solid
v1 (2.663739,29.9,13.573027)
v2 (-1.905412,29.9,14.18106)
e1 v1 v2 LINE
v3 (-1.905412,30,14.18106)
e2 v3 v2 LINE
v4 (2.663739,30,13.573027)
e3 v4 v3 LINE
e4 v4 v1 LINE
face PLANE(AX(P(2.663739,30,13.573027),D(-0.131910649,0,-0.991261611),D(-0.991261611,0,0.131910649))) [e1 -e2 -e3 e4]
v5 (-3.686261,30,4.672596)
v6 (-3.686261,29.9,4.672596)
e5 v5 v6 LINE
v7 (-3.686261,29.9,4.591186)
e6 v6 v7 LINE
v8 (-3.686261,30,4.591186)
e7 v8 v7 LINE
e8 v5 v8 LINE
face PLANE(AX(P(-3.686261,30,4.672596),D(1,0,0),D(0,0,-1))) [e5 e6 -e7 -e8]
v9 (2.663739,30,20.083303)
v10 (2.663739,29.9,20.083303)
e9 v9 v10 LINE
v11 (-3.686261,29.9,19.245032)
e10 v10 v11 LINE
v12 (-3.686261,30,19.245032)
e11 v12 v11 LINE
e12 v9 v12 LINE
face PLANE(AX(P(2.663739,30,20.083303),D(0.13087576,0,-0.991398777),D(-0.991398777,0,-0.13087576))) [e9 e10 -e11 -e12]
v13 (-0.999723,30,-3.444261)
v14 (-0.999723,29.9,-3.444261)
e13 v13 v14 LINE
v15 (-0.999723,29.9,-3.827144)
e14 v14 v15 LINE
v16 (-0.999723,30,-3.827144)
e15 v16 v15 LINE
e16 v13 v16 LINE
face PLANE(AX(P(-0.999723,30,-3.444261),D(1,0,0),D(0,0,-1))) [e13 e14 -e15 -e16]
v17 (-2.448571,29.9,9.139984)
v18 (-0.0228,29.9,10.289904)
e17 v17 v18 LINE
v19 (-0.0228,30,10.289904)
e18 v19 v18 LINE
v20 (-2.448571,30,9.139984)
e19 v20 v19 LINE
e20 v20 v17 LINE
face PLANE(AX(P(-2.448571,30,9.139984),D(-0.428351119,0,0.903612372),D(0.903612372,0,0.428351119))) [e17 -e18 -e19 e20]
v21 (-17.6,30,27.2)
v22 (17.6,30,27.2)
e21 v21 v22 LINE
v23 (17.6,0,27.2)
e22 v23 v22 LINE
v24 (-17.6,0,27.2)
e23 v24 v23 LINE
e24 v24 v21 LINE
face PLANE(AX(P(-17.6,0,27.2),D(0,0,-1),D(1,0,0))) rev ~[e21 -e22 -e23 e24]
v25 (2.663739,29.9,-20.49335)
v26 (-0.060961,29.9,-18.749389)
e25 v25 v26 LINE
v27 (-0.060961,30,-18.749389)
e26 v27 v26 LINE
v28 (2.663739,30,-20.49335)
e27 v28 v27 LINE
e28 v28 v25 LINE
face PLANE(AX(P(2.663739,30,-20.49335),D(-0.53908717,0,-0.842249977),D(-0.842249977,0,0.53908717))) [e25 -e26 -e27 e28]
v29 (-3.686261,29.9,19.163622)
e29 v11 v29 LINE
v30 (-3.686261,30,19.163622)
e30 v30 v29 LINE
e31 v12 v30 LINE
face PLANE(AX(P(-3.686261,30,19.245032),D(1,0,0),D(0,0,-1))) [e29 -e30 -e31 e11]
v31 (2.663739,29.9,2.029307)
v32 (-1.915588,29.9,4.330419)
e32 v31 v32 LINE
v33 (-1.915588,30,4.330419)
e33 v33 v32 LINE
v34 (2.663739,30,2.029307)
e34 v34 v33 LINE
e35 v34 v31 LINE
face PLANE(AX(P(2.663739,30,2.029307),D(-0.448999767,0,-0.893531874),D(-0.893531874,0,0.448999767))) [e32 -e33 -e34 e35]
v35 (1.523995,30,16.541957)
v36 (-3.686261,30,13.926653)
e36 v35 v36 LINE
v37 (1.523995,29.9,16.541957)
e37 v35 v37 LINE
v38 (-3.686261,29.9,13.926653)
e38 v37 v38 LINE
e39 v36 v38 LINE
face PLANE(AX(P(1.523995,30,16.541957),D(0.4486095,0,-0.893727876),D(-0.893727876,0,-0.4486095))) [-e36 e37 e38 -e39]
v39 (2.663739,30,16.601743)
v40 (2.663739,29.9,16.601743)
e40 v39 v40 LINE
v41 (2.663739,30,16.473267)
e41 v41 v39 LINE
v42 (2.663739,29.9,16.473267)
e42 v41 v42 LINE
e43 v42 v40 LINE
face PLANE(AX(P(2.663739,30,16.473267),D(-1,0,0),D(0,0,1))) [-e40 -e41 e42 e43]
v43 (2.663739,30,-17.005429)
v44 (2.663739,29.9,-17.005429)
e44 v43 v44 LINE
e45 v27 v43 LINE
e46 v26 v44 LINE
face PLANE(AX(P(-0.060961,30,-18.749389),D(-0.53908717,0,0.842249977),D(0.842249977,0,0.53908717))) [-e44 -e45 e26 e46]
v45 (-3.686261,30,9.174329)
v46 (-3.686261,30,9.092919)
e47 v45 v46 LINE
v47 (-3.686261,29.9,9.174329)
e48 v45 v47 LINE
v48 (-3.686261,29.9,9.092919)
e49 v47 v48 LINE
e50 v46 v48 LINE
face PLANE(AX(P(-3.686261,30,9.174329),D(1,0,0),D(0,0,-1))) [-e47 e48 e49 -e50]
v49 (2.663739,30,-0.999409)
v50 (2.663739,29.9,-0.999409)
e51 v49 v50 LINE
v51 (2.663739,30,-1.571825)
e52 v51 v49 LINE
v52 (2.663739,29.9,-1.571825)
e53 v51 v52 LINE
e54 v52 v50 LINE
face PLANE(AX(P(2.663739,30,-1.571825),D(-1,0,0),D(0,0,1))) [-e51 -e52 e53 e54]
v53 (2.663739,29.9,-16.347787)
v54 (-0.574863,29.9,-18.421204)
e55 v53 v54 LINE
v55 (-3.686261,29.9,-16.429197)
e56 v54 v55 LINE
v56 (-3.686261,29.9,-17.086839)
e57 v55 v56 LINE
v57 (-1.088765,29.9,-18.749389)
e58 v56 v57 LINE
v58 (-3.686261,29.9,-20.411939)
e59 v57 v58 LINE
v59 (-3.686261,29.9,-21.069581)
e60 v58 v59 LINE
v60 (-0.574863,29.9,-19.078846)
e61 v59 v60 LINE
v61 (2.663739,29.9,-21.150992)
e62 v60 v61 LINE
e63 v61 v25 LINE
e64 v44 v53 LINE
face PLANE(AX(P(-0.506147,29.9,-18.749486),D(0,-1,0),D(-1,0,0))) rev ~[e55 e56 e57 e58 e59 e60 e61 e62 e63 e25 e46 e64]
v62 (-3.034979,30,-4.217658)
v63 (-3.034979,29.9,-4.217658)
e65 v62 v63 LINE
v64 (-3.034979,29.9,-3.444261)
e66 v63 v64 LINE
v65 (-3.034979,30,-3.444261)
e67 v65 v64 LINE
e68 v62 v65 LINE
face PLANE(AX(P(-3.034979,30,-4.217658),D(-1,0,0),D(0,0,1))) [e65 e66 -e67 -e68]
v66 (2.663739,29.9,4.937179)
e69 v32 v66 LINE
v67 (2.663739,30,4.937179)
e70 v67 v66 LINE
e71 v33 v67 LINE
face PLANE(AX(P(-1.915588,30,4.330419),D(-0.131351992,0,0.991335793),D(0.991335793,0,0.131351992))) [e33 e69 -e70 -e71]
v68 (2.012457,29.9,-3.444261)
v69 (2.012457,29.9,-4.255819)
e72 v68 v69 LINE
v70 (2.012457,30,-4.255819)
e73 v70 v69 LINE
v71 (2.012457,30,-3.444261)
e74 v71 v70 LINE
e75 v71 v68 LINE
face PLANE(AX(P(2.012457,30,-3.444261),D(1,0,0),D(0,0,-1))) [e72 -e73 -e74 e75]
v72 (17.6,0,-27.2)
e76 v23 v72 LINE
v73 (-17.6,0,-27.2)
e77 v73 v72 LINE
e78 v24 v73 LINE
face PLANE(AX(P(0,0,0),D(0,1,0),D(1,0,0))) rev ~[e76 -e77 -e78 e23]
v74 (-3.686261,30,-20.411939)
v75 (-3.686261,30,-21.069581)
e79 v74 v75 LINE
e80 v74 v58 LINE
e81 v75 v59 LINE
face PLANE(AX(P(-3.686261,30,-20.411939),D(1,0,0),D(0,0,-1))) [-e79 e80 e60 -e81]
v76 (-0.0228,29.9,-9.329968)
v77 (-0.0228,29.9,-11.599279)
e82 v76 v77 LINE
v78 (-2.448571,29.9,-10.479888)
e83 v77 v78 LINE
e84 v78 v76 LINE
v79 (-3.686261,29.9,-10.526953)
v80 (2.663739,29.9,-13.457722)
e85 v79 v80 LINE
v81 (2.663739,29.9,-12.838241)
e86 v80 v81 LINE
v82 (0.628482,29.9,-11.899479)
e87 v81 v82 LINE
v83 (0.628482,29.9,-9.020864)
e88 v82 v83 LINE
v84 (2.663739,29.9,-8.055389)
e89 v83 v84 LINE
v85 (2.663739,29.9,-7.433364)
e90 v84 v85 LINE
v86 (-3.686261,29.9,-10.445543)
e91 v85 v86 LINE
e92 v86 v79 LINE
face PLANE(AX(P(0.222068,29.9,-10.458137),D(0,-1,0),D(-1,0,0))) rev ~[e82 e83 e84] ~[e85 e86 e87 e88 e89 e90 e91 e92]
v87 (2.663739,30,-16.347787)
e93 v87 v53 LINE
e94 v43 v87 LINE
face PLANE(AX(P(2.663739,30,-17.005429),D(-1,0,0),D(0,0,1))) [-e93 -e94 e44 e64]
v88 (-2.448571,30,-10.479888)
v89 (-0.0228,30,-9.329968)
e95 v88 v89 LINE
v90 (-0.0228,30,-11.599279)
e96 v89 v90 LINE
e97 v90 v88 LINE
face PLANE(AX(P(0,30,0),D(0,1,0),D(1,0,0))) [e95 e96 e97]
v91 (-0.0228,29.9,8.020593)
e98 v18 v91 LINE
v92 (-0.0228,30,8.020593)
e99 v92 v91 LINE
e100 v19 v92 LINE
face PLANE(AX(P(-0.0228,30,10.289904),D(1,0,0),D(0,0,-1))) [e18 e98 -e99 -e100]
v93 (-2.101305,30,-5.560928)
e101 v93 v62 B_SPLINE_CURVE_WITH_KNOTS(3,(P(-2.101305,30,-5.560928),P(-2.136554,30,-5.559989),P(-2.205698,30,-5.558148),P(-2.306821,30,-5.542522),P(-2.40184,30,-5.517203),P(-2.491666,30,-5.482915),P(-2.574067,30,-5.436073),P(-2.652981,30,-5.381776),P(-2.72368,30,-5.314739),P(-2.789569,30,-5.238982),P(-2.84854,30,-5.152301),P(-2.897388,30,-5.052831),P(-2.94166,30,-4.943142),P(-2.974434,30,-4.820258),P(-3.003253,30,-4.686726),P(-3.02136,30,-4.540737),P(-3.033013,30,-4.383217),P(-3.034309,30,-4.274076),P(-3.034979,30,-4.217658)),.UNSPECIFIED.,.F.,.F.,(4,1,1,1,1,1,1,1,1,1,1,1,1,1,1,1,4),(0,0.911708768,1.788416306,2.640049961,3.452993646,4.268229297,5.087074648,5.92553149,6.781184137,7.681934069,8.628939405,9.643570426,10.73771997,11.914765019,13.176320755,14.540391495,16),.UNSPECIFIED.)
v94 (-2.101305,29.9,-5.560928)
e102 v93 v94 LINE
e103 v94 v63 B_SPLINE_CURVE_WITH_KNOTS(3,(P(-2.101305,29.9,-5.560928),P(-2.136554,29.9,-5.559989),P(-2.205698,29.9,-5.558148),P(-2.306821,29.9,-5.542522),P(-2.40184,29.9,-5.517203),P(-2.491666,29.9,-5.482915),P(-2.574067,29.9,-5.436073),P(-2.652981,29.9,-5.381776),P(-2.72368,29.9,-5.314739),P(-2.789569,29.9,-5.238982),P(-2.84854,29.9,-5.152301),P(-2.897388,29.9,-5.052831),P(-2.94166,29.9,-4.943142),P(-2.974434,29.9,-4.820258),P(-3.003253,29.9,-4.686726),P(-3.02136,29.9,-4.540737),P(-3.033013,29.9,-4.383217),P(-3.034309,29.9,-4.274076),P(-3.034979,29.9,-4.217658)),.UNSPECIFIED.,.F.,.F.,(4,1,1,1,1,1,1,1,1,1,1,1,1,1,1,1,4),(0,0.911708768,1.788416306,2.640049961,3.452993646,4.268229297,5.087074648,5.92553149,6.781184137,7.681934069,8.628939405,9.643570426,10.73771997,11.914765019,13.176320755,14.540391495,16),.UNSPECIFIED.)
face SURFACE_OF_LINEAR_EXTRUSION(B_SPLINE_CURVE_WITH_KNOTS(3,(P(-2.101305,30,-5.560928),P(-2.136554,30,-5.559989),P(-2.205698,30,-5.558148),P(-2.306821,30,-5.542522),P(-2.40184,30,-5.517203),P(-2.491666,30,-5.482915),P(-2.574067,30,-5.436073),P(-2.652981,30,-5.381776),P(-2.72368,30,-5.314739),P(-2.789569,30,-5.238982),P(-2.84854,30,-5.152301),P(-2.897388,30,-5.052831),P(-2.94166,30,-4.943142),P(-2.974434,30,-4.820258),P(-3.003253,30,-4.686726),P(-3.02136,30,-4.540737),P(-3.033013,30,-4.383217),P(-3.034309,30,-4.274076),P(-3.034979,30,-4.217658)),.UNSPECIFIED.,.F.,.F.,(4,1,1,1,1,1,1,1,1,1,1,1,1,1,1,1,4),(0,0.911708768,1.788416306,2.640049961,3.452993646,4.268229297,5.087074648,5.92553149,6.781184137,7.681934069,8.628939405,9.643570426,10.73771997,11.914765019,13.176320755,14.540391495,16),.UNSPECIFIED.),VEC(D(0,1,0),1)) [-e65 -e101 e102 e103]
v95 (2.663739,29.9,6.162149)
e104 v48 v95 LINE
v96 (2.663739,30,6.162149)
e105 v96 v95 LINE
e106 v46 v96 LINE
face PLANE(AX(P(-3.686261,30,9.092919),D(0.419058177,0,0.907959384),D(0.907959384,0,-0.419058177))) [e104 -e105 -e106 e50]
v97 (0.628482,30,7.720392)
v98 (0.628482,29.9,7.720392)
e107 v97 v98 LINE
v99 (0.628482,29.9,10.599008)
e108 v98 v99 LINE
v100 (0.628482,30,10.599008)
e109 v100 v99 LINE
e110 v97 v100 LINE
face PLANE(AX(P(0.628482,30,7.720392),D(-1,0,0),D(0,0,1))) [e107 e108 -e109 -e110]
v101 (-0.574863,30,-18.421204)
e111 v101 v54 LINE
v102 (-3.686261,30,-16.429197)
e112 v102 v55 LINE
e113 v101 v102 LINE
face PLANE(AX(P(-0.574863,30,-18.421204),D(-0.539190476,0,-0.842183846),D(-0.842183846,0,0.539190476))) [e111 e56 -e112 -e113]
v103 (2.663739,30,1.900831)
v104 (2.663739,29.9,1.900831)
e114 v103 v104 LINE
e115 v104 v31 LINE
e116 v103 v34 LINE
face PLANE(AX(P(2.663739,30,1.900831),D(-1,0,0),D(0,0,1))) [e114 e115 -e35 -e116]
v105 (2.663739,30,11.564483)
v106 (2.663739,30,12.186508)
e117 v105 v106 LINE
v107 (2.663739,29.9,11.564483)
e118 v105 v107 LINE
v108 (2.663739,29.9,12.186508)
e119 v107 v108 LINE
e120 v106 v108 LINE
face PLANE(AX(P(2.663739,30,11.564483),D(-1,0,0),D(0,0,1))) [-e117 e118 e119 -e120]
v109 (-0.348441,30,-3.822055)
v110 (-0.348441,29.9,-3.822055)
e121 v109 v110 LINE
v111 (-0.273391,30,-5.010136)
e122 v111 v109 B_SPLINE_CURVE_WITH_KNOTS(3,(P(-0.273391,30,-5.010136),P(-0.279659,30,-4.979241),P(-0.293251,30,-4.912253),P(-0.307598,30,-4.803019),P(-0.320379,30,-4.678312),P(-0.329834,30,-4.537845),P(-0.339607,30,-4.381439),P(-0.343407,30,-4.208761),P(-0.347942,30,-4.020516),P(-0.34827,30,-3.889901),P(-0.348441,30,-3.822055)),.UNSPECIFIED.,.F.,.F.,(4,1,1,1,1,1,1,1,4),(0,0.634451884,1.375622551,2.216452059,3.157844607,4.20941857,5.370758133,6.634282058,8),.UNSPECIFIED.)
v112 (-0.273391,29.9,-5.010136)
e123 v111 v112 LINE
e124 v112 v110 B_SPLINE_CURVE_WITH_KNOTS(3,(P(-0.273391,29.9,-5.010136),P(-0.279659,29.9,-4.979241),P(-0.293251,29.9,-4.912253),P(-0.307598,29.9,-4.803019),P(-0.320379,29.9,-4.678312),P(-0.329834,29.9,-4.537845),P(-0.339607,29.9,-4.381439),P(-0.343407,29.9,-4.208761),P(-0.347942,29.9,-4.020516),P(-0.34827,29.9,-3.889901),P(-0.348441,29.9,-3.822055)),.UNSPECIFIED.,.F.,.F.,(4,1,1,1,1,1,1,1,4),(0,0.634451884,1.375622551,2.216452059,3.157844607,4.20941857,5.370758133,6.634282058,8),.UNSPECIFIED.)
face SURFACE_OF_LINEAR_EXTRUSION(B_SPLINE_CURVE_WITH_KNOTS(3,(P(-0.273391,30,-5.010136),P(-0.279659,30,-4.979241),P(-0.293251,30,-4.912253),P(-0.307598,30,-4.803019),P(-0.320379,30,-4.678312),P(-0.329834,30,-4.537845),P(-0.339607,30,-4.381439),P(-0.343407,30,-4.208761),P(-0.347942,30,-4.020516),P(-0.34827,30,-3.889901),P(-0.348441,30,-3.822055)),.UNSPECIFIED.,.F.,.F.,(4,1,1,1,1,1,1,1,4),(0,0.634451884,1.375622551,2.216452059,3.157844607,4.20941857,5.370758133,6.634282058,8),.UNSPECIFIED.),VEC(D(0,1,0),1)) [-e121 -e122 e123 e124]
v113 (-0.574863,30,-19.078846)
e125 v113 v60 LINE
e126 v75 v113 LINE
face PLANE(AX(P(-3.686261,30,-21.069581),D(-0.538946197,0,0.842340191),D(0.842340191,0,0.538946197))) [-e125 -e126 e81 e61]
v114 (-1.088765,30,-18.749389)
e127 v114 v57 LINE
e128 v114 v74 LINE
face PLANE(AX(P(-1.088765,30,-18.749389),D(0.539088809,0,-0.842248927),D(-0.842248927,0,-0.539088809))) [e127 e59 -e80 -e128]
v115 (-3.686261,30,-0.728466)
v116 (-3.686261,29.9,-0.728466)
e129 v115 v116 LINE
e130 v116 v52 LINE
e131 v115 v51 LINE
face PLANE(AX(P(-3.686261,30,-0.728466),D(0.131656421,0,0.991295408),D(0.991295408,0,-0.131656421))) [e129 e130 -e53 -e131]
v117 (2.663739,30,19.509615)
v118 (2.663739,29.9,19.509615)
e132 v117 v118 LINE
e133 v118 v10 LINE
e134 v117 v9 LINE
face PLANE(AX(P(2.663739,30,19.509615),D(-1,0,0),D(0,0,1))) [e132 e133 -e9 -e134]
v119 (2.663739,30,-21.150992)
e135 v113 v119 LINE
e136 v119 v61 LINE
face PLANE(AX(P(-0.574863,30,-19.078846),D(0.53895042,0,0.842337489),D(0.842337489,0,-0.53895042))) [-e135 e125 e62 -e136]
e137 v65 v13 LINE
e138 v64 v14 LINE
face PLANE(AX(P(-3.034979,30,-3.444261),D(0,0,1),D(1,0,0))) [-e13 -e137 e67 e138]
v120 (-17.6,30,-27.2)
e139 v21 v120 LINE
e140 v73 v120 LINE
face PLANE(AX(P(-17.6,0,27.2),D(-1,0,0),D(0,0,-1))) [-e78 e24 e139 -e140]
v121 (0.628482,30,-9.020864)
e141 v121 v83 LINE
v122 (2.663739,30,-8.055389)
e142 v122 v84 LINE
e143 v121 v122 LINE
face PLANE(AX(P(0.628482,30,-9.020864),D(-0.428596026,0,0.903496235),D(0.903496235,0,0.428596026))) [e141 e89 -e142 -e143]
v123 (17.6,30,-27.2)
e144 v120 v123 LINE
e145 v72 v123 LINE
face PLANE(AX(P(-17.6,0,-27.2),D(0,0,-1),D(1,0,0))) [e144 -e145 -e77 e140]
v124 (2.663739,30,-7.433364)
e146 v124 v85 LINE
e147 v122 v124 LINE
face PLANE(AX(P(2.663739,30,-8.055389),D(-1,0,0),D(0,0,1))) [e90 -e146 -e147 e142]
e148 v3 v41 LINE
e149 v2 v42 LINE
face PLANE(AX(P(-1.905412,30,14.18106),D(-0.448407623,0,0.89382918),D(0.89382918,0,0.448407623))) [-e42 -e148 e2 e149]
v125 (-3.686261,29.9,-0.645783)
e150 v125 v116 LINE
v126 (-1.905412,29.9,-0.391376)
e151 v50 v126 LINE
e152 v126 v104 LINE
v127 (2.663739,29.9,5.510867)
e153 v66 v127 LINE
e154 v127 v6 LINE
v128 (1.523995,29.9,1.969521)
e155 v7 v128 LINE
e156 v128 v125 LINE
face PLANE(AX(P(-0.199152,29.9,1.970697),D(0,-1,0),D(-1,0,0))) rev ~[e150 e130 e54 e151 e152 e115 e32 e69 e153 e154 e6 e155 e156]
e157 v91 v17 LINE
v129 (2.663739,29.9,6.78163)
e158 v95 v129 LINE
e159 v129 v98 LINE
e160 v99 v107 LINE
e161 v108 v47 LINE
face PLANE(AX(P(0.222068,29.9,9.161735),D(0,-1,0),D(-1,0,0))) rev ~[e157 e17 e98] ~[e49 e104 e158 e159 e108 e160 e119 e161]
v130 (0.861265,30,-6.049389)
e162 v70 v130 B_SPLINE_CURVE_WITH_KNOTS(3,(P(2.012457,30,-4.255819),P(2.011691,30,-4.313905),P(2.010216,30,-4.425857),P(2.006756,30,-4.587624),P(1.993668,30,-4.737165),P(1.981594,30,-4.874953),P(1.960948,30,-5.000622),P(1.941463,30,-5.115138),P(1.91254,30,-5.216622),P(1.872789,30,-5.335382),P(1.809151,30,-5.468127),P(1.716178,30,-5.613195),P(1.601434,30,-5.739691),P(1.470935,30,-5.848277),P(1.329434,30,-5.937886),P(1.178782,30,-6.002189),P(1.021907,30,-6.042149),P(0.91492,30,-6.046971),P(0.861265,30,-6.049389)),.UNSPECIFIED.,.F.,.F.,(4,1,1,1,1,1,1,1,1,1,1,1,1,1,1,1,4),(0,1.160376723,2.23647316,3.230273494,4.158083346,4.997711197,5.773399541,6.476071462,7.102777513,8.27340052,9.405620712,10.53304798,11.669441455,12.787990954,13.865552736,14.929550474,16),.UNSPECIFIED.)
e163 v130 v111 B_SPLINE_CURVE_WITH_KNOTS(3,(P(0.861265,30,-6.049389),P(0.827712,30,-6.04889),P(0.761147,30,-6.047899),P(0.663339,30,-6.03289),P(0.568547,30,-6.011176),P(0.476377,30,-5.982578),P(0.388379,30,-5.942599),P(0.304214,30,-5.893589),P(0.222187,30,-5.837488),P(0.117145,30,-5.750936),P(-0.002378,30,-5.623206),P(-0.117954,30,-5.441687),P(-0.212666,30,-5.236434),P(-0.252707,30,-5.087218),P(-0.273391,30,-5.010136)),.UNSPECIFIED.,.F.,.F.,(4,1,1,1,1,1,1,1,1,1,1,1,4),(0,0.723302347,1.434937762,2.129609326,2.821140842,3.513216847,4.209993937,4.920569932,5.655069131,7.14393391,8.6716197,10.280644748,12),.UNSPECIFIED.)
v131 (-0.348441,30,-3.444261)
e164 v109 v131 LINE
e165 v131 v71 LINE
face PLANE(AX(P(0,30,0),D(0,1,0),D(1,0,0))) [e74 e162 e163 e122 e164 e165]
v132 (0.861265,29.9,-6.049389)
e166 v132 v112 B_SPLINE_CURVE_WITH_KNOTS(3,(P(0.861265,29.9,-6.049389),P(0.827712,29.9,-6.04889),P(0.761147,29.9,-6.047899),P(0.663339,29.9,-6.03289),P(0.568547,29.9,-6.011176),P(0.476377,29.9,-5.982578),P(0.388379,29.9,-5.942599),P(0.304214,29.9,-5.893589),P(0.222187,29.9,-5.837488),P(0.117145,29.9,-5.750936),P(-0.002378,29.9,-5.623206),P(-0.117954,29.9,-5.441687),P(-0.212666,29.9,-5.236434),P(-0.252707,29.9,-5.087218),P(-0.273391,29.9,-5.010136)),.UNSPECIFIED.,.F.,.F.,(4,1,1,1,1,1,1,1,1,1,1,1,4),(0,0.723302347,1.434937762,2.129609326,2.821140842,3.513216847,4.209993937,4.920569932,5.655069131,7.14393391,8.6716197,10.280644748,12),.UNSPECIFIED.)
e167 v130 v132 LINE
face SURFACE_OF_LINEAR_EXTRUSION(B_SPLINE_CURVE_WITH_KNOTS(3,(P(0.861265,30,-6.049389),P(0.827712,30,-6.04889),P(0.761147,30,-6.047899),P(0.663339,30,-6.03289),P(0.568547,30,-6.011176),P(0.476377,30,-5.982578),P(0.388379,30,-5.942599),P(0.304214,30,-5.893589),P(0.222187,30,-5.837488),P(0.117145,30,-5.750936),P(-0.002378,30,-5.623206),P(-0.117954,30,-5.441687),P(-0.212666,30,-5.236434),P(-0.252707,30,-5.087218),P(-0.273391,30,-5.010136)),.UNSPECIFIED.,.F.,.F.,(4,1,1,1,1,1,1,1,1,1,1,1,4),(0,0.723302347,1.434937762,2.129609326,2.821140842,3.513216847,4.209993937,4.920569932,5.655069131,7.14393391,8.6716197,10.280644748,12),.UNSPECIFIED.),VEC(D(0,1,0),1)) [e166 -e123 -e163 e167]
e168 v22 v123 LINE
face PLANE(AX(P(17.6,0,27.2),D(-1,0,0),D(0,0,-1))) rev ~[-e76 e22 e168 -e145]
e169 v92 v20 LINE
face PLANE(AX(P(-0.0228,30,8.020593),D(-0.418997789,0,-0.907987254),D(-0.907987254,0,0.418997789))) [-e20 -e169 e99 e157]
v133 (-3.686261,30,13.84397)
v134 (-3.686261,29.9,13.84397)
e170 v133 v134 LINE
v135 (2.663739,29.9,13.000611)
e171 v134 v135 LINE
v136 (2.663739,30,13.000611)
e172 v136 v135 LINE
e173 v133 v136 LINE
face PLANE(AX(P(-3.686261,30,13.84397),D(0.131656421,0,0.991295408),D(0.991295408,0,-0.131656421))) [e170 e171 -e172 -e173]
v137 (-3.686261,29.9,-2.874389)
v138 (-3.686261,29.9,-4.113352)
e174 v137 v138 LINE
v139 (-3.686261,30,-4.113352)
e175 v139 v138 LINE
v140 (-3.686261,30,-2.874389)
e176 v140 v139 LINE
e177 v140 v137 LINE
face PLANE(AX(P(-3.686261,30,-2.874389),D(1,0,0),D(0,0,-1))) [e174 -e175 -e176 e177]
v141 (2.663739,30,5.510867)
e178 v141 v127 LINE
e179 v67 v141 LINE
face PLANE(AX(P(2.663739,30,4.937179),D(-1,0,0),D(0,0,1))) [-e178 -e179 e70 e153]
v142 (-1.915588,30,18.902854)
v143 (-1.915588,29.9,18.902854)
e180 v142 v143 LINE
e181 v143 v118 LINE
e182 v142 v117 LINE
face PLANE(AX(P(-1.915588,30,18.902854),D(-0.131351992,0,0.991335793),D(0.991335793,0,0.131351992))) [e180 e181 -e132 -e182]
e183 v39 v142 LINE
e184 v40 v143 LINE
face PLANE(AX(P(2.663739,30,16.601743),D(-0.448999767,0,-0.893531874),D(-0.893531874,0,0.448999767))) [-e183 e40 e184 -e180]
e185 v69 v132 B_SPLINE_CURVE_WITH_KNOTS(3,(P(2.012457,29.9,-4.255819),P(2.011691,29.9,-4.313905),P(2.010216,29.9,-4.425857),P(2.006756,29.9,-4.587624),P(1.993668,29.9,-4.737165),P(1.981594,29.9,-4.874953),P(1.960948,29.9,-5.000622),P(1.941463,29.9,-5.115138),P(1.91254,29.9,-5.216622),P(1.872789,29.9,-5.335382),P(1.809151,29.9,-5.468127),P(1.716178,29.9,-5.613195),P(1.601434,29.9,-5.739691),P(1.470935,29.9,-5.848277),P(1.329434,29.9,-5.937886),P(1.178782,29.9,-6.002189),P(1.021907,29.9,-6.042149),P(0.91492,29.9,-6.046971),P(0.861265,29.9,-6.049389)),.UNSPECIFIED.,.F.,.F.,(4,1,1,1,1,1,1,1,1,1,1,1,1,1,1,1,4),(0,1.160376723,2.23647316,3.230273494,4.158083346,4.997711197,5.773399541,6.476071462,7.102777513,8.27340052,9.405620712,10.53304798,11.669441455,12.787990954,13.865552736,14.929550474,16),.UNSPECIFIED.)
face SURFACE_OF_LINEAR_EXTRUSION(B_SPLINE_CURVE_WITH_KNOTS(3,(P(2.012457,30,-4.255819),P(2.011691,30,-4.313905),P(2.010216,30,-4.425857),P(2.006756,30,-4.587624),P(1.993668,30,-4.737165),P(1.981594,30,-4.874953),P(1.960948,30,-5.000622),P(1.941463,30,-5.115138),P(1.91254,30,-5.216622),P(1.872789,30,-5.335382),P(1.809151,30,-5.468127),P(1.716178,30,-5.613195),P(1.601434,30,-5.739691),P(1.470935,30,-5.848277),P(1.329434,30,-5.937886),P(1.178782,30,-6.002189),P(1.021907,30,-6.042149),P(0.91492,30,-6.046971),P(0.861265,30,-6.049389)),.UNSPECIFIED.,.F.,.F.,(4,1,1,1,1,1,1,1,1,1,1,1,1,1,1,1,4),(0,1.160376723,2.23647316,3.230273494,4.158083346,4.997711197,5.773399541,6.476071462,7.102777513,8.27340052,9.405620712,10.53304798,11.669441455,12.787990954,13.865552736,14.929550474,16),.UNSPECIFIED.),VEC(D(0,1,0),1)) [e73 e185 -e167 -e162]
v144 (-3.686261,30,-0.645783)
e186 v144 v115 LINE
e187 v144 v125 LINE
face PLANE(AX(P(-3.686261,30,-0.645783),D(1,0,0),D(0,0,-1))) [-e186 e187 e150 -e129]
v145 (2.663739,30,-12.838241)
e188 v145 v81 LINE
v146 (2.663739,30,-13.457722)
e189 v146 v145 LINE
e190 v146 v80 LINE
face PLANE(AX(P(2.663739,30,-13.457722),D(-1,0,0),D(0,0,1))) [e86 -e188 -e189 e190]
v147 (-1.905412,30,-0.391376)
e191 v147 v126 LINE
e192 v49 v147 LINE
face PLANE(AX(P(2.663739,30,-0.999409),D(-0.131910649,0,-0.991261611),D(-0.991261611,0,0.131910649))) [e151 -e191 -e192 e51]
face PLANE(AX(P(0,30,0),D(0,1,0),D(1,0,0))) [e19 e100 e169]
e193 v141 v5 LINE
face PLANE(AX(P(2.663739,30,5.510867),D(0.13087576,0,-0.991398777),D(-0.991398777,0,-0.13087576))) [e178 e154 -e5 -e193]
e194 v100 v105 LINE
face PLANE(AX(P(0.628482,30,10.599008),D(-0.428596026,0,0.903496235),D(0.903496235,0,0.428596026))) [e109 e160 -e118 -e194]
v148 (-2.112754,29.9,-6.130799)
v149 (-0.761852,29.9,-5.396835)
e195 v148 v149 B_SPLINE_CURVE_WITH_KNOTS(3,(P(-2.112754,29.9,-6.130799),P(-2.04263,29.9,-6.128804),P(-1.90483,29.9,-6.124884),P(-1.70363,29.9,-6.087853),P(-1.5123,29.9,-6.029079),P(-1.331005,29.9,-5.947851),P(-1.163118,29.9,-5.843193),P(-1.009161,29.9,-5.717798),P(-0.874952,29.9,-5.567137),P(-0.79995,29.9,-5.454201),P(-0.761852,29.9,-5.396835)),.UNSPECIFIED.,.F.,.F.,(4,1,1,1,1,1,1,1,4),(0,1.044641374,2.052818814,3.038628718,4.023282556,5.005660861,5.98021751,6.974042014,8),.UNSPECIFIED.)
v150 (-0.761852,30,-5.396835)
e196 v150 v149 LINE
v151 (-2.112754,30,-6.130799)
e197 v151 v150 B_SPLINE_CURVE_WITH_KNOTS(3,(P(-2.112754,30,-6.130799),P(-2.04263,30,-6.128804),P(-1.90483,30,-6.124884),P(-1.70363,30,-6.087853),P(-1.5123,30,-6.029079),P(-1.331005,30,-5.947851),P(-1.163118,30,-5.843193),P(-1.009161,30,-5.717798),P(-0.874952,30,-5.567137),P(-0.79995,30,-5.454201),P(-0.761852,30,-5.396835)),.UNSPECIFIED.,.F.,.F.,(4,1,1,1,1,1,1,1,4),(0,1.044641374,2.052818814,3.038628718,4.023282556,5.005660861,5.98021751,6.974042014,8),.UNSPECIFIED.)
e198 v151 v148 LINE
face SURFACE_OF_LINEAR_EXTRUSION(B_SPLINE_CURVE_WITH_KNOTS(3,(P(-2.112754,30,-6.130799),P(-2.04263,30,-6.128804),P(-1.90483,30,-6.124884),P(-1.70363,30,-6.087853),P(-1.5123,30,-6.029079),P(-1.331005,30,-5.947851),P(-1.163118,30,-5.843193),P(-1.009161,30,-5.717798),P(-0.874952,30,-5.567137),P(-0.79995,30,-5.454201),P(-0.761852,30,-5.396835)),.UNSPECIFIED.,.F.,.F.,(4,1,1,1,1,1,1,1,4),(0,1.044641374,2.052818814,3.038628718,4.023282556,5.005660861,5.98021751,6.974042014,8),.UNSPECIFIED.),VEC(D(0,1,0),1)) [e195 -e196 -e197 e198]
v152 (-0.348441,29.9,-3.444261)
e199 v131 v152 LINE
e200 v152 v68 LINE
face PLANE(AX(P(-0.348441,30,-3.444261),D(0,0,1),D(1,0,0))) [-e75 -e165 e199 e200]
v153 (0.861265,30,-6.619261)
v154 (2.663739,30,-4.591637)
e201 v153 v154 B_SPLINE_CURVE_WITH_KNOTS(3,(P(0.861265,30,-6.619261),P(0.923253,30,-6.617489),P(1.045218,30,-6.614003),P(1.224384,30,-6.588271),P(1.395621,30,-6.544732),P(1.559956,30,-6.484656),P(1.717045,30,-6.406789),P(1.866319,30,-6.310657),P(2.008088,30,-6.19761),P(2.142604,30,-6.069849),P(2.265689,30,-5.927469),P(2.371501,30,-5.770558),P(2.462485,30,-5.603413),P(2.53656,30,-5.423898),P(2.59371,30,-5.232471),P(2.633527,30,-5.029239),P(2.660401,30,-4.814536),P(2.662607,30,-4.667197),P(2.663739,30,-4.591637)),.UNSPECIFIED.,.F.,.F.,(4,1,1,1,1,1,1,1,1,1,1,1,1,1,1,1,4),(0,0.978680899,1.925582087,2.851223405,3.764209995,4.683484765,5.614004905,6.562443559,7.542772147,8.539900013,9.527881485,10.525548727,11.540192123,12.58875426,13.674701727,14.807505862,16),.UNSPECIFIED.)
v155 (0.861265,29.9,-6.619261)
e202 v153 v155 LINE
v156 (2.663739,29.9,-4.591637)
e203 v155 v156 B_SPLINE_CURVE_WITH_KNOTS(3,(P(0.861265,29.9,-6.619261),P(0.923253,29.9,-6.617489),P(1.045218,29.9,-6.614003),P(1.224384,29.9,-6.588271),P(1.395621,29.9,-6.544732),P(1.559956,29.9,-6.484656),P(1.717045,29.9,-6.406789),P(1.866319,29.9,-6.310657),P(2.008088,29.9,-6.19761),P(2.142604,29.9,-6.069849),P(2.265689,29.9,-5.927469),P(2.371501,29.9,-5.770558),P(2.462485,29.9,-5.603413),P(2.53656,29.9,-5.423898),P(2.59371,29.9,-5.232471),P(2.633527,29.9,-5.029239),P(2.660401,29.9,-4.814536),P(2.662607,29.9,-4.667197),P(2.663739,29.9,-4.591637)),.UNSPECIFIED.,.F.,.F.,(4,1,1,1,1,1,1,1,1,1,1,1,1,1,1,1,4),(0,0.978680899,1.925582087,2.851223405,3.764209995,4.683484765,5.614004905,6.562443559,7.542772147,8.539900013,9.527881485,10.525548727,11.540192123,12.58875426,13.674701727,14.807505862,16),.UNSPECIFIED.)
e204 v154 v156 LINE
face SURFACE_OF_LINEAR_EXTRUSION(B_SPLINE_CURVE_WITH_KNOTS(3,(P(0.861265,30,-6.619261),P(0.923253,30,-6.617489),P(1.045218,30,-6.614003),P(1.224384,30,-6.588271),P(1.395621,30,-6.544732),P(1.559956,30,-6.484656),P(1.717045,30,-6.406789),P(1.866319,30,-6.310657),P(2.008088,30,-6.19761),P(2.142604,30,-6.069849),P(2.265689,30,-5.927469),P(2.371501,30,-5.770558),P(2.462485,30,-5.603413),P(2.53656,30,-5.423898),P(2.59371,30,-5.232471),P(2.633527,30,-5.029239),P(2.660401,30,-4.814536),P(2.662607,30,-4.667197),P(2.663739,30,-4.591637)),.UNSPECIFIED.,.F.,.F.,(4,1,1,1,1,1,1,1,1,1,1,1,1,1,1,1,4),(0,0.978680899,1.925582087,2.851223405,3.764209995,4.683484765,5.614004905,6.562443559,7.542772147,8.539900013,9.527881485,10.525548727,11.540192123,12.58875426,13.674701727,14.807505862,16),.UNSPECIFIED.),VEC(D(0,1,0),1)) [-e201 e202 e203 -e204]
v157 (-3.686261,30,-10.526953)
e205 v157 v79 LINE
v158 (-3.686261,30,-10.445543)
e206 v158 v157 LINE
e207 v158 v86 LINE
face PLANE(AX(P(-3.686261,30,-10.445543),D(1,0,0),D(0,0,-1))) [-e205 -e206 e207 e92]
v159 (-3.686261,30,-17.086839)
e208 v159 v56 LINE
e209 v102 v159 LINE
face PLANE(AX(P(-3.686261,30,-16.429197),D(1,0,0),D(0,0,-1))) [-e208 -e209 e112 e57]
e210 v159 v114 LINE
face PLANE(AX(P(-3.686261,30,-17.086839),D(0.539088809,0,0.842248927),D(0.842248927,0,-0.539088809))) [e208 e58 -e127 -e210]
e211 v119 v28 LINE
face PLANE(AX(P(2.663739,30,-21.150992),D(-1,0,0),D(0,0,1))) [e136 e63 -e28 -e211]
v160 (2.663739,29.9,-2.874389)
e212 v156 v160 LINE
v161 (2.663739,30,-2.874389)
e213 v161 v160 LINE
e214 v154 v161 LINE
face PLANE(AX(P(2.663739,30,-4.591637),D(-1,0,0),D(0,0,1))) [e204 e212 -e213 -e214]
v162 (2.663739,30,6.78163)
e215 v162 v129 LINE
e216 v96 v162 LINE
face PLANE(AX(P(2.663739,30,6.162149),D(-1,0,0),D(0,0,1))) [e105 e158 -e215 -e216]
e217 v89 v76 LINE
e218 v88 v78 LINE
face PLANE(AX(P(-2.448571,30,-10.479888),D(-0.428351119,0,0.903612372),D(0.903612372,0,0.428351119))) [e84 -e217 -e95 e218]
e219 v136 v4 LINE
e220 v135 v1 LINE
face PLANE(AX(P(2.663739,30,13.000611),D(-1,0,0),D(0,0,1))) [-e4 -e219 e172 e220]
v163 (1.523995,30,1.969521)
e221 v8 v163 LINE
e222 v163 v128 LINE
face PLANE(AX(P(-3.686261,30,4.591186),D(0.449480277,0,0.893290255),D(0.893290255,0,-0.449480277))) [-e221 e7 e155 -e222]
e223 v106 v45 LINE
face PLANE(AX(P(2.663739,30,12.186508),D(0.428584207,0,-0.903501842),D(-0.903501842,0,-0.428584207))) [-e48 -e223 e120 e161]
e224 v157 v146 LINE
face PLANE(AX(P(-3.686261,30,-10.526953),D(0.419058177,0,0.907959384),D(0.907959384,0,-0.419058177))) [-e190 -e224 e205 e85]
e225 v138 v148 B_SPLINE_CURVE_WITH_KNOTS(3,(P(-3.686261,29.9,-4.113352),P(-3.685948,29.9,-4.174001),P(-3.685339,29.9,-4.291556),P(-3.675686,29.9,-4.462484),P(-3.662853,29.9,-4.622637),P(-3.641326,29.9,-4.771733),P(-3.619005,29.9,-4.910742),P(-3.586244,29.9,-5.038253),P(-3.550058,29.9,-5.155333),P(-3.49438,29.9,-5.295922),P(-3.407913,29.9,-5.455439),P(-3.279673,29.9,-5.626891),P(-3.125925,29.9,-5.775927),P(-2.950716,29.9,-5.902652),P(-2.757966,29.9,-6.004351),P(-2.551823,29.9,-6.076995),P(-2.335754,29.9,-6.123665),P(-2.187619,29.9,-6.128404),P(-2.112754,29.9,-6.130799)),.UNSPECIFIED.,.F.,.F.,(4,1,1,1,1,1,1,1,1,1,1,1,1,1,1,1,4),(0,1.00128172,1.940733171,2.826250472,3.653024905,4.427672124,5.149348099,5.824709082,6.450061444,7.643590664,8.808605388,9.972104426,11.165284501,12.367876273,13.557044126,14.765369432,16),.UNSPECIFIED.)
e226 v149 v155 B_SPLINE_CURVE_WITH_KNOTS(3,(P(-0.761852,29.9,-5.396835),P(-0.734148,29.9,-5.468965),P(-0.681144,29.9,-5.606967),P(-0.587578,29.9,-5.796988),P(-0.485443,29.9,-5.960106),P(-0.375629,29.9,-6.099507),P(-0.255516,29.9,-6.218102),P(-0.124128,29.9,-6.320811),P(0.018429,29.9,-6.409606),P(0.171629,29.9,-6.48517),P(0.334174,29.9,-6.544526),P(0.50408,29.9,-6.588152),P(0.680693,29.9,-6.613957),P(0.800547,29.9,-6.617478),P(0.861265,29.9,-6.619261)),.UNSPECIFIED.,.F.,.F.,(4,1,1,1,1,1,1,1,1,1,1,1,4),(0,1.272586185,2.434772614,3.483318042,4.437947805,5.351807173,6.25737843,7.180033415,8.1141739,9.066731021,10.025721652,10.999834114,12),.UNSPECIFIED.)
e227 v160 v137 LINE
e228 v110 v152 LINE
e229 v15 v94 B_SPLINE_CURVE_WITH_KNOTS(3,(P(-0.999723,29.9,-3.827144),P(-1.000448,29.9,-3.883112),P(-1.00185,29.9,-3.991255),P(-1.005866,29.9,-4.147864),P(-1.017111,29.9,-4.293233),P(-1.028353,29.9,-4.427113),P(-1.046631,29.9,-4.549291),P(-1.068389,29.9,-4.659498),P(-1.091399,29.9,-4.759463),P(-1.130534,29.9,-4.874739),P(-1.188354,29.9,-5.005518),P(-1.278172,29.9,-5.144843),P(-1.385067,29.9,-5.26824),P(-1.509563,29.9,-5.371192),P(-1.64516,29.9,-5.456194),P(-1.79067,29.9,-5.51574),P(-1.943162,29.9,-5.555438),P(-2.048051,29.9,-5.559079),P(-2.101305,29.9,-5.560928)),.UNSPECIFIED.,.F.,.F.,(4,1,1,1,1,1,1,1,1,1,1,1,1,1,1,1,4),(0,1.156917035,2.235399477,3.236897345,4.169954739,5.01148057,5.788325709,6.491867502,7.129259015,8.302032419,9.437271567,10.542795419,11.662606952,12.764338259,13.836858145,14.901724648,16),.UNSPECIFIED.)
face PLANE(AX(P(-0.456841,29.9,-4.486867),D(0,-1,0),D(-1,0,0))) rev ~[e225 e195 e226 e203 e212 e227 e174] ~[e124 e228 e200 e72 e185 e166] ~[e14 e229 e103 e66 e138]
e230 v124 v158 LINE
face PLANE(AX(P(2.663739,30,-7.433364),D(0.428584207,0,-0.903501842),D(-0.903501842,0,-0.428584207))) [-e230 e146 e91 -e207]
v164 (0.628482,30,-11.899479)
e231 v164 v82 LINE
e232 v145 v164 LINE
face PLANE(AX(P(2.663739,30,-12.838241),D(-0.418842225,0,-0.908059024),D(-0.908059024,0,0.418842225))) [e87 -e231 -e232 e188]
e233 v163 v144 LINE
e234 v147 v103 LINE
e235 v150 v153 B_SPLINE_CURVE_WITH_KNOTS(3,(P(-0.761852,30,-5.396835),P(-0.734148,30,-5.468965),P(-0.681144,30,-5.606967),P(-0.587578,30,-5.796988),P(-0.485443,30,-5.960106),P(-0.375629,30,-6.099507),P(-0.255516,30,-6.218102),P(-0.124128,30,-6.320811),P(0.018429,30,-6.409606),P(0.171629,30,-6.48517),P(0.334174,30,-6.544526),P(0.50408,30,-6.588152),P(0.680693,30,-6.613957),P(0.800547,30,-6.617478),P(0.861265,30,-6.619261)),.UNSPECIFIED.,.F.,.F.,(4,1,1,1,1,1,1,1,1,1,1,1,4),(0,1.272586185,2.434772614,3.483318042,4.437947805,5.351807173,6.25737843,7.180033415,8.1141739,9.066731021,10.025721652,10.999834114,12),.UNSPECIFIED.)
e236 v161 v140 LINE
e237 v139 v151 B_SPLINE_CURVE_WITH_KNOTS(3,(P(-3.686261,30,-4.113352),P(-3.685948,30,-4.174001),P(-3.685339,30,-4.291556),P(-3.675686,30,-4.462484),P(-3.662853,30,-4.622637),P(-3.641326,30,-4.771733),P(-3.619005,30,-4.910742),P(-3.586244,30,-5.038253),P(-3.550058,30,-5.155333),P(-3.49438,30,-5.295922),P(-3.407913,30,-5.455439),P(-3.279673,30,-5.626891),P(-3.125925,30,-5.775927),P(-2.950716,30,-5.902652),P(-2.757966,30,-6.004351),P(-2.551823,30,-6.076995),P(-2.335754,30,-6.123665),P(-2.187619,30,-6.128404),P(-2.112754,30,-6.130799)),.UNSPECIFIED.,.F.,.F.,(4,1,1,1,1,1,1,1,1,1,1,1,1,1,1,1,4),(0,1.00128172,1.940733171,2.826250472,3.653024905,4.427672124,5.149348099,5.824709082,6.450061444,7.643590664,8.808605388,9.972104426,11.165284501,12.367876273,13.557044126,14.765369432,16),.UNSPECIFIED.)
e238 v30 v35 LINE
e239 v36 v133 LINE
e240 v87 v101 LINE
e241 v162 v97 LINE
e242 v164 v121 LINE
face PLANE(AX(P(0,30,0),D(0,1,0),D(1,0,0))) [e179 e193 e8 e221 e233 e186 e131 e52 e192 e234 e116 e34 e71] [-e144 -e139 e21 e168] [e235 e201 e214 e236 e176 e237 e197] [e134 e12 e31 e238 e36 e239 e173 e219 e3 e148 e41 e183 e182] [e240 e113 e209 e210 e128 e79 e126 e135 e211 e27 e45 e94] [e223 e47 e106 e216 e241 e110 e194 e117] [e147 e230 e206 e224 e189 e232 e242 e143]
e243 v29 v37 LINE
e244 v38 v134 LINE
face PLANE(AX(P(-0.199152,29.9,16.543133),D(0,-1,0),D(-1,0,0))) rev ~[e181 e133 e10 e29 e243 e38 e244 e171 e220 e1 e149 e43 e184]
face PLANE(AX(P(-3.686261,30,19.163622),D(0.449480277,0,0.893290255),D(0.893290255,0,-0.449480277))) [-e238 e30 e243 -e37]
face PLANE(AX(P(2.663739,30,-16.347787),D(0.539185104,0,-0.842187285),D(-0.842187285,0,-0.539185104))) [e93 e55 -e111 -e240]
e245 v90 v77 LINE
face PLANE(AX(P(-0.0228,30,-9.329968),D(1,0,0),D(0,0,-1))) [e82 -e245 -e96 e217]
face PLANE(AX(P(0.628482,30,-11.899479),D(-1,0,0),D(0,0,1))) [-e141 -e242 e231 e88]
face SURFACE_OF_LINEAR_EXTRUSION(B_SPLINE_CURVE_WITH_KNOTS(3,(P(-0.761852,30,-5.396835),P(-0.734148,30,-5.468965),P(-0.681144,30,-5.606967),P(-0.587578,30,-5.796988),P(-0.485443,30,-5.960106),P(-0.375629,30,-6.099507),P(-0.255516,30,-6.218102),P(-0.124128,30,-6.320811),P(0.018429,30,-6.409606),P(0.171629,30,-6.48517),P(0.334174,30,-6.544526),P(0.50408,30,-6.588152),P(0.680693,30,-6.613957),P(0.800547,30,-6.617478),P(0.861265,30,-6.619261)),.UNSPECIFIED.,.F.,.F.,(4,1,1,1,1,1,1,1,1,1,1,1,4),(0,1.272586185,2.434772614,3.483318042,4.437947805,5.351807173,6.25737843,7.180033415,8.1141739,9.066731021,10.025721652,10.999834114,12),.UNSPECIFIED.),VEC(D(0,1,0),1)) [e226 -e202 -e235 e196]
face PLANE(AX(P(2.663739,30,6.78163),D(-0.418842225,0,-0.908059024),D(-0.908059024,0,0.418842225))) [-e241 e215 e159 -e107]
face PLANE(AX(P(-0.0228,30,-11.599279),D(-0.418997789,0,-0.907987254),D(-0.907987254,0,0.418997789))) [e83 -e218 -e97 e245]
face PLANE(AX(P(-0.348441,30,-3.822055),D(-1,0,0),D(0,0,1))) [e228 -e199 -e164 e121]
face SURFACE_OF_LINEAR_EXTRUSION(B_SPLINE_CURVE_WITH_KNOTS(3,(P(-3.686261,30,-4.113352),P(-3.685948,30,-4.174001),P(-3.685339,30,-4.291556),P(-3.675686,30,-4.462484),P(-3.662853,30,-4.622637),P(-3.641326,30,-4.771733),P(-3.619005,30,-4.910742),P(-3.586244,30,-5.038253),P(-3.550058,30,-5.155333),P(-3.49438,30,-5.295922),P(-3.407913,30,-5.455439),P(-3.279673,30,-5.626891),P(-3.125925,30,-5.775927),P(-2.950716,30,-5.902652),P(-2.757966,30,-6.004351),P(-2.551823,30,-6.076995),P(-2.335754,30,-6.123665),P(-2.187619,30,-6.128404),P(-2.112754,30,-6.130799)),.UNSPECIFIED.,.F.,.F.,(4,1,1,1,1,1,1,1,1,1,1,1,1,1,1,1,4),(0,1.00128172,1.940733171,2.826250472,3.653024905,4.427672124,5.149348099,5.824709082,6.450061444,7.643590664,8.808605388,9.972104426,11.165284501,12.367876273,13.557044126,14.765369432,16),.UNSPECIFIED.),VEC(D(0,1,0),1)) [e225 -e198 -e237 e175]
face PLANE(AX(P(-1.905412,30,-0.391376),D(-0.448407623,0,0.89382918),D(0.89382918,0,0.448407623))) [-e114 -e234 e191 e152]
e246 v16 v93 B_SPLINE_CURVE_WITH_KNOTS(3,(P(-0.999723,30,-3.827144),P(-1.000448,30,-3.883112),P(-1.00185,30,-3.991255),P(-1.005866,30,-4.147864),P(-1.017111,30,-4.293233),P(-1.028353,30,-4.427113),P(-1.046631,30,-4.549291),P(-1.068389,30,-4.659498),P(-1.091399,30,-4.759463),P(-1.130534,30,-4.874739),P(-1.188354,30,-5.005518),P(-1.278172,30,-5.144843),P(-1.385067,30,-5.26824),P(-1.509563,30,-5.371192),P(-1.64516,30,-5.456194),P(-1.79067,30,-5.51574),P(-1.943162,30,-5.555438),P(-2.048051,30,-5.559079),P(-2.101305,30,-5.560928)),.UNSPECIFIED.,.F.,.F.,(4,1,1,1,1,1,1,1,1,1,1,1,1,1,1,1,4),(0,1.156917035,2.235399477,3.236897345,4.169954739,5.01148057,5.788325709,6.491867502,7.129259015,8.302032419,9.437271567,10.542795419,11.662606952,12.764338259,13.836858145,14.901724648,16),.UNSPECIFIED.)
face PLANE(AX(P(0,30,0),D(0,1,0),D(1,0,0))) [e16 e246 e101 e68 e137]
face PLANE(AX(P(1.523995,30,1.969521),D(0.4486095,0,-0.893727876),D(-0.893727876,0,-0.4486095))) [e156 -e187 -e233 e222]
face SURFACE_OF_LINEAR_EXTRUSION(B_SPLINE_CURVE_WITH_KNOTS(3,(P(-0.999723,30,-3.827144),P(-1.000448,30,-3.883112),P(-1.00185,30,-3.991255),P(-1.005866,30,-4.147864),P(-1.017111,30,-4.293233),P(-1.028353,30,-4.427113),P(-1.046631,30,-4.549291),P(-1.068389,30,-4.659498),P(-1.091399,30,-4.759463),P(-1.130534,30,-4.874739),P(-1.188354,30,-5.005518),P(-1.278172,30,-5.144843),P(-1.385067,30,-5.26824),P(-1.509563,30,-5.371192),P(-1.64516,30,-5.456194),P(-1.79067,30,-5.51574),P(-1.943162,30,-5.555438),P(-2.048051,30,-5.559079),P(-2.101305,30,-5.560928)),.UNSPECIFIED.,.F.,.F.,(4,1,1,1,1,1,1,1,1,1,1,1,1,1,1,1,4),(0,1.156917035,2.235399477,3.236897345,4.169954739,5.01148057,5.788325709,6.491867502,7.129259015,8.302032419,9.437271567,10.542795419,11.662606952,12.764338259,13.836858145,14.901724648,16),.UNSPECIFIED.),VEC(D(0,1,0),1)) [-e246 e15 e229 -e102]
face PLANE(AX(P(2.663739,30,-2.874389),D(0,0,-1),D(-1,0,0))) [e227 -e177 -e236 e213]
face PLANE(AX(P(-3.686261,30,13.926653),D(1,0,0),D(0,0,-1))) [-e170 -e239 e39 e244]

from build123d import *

# Parameters (mm, degrees)
SKETCH1_W           = 35.2
SKETCH1_H           = 54.4
BOSS_EXTRUDE1_DEPTH = 30
CUT_EXTRUDE1_DEPTH  = 0.1


with BuildPart() as part:
    # Sketch1 → Boss-Extrude1 (new body)
    with BuildSketch(Plane(origin=(0, 0, 0), x_dir=(1, 0, 0), z_dir=(0, 1, 0))):
        Rectangle(SKETCH1_W, SKETCH1_H)
    extrude(amount=BOSS_EXTRUDE1_DEPTH)

    # Sketch2 → Cut-Extrude1 (cut)
    # profile 1 of 6: a face of its own
    with BuildSketch(Plane(origin=(0, 30, 0), x_dir=(1, 0, 0), z_dir=(0, 1, 0))):
        Polygon((2.663738641, -20.083303144), (-3.686261359, -19.24503191), (-3.686261359, -19.163621654), (1.523995051, -16.54195699), (-3.686261359, -13.926652503), (-3.686261359, -13.843970211), (2.663738641, -13.000610836), (2.663738641, -13.573026702), (-1.905412, -14.181059554), (2.663738641, -16.473267086), (2.663738641, -16.601742647), (-1.915588282, -18.902854426), (2.663738641, -19.509615243), align=None)
    # profile 2 of 6: a face of its own
    with BuildSketch(Plane(origin=(0, 30, 0), x_dir=(1, 0, 0), z_dir=(0, 1, 0))):
        Polygon((-3.686261359, -9.092918529), (2.663738641, -6.162149298), (2.663738641, -6.781630468), (0.62848223, -7.720392487), (0.62848223, -10.599008272), (2.663738641, -11.564483032), (2.663738641, -12.186508272), (-3.686261359, -9.174328785), align=None)
        Polygon((-2.448571055, -9.139983833), (-0.022799821, -10.289903705), (-0.022799821, -8.020592808), align=None, mode=Mode.SUBTRACT)
    # profile 3 of 6: a face of its own
    with BuildSketch(Plane(origin=(0, 30, 0), x_dir=(1, 0, 0), z_dir=(0, 1, 0))):
        Polygon((2.663738641, -5.510867247), (-3.686261359, -4.672596013), (-3.686261359, -4.591185756), (1.523995051, -1.969521093), (-3.686261359, 0.645783394), (-3.686261359, 0.728465686), (2.663738641, 1.571825061), (2.663738641, 0.999409196), (-1.905412, 0.391376343), (2.663738641, -1.900831189), (2.663738641, -2.02930675), (-1.915588282, -4.330418529), (2.663738641, -4.937179346), align=None)
    # profile 4 of 6: a face of its own
    with BuildSketch(Plane(origin=(0, 30, 0), x_dir=(1, 0, 0), z_dir=(0, 1, 0))):
        with BuildLine():
            Line((-3.686261359, 2.874389164), (-3.686261359, 4.113351503))
            add(Edge.make_bspline(
                [(-3.686261359, 4.113351503), (-3.685947518, 4.17400127), (-3.685339215, 4.291555613), (-3.675685885, 4.462483602), (-3.662852695, 4.622637187), (-3.641325711, 4.771733359), (-3.619005068, 4.910742263), (-3.586243707, 5.038252668), (-3.55005759, 5.15533263), (-3.494380339, 5.295921701), (-3.407912866, 5.455439265), (-3.279673387, 5.626890799), (-3.125924606, 5.775926934), (-2.950715744, 5.902651825), (-2.75796614, 6.004351247), (-2.551822866, 6.076995491), (-2.335754034, 6.12366492), (-2.187618873, 6.128404243), (-2.112753747, 6.13079942)],
                knots=[0, 0, 0, 0, 1.00128172, 1.940733171, 2.826250472, 3.653024905, 4.427672124, 5.149348099, 5.824709082, 6.450061444, 7.643590664, 8.808605388, 9.972104426, 11.165284501, 12.367876273, 13.557044126, 14.765369432, 16, 16, 16, 16], degree=3))
            add(Edge.make_bspline(
                [(-2.112753747, 6.13079942), (-2.042630051, 6.128804412), (-1.904830375, 6.124884033), (-1.703630007, 6.087852701), (-1.512300219, 6.029078685), (-1.33100476, 5.947850624), (-1.163118461, 5.843192811), (-1.009161388, 5.717798041), (-0.874952272, 5.567137227), (-0.79995004, 5.454201374), (-0.761852305, 5.396835077)],
                knots=[0, 0, 0, 0, 1.044641374, 2.052818814, 3.038628718, 4.023282556, 5.005660861, 5.98021751, 6.974042014, 8, 8, 8, 8], degree=3))
            add(Edge.make_bspline(
                [(-0.761852305, 5.396835077), (-0.734148267, 5.468964887), (-0.681143581, 5.606967082), (-0.587578442, 5.796987788), (-0.485443149, 5.960105657), (-0.375629467, 6.099507114), (-0.255516262, 6.218101669), (-0.124127669, 6.320811412), (0.018428749, 6.409605986), (0.171629053, 6.485169554), (0.334174493, 6.544525679), (0.504079737, 6.588151608), (0.680693455, 6.613957294), (0.80054706, 6.617477585), (0.861264682, 6.619260959)],
                knots=[0, 0, 0, 0, 1.272586185, 2.434772614, 3.483318042, 4.437947805, 5.351807173, 6.25737843, 7.180033415, 8.1141739, 9.066731021, 10.025721652, 10.999834114, 12, 12, 12, 12], degree=3))
            add(Edge.make_bspline(
                [(0.861264682, 6.619260959), (0.923253403, 6.617489068), (1.045217946, 6.614002824), (1.224384373, 6.588270771), (1.395620732, 6.544731726), (1.559955701, 6.484656401), (1.717044728, 6.40678878), (1.86631873, 6.310656843), (2.008088271, 6.19761009), (2.142603557, 6.069848985), (2.265689272, 5.92746923), (2.371501477, 5.770557575), (2.462484894, 5.603412637), (2.536560348, 5.423897625), (2.593709512, 5.232470806), (2.633526759, 5.029238698), (2.660400578, 4.814535995), (2.662607073, 4.667197225), (2.663738641, 4.59163676)],
                knots=[0, 0, 0, 0, 0.978680899, 1.925582087, 2.851223405, 3.764209995, 4.683484765, 5.614004905, 6.562443559, 7.542772147, 8.539900013, 9.527881485, 10.525548727, 11.540192123, 12.58875426, 13.674701727, 14.807505862, 16, 16, 16, 16], degree=3))
            Line((2.663738641, 4.59163676), (2.663738641, 2.874389164))
            Line((2.663738641, 2.874389164), (-3.686261359, 2.874389164))
        make_face()
        with BuildLine():
            Line((-3.034979308, 3.444260959), (-0.999722898, 3.444260959))
            Line((-0.999722898, 3.444260959), (-0.999722898, 3.827143571))
            add(Edge.make_bspline(
                [(-0.999722898, 3.827143571), (-1.000448472, 3.8831121), (-1.00185043, 3.991254703), (-1.005866384, 4.147863657), (-1.017111401, 4.293233338), (-1.028353206, 4.427112788), (-1.046631335, 4.549291282), (-1.068388642, 4.659497805), (-1.091398506, 4.759463042), (-1.130534038, 4.874739232), (-1.188353511, 5.005518464), (-1.278171729, 5.144843329), (-1.385066749, 5.268239823), (-1.509562523, 5.371191651), (-1.645160313, 5.456193757), (-1.790669697, 5.515740405), (-1.943162486, 5.555438382), (-2.048051128, 5.559079134), (-2.10130543, 5.560927625)],
                knots=[0, 0, 0, 0, 1.156917035, 2.235399477, 3.236897345, 4.169954739, 5.01148057, 5.788325709, 6.491867502, 7.129259015, 8.302032419, 9.437271567, 10.542795419, 11.662606952, 12.764338259, 13.836858145, 14.901724648, 16, 16, 16, 16], degree=3))
            add(Edge.make_bspline(
                [(-2.10130543, 5.560927625), (-2.13655395, 5.559989075), (-2.205697771, 5.558148007), (-2.306820964, 5.542521884), (-2.401839674, 5.517203418), (-2.491665842, 5.48291539), (-2.574067073, 5.436072855), (-2.65298071, 5.381776203), (-2.723680212, 5.314739278), (-2.789569329, 5.2389816), (-2.848539868, 5.152301304), (-2.897387819, 5.052830862), (-2.941660294, 4.943141736), (-2.97443389, 4.820258001), (-3.00325313, 4.686725849), (-3.021360451, 4.540737206), (-3.033012685, 4.38321717), (-3.034309145, 4.27407557), (-3.034979308, 4.217658394)],
                knots=[0, 0, 0, 0, 0.911708768, 1.788416306, 2.640049961, 3.452993646, 4.268229297, 5.087074648, 5.92553149, 6.781184137, 7.681934069, 8.628939405, 9.643570426, 10.73771997, 11.914765019, 13.176320755, 14.540391495, 16, 16, 16, 16], degree=3))
            Line((-3.034979308, 4.217658394), (-3.034979308, 3.444260959))
        make_face(mode=Mode.SUBTRACT)
        with BuildLine():
            Line((-0.348440847, 3.444260959), (2.012456589, 3.444260959))
            Line((2.012456589, 3.444260959), (2.012456589, 4.255819452))
            add(Edge.make_bspline(
                [(2.012456589, 4.255819452), (2.011691133, 4.313904856), (2.010215818, 4.425856815), (2.006755897, 4.587623502), (1.993667542, 4.737164959), (1.981593593, 4.874952938), (1.960947659, 5.000621747), (1.941463265, 5.115138039), (1.912540074, 5.21662195), (1.872788551, 5.335381604), (1.809151298, 5.468127448), (1.716177872, 5.613194762), (1.601434311, 5.739691211), (1.470935241, 5.848276604), (1.329434427, 5.937885986), (1.17878172, 6.002189193), (1.02190703, 6.0421495), (0.914919928, 6.046971084), (0.861264682, 6.049389164)],
                knots=[0, 0, 0, 0, 1.160376723, 2.23647316, 3.230273494, 4.158083346, 4.997711197, 5.773399541, 6.476071462, 7.102777513, 8.27340052, 9.405620712, 10.53304798, 11.669441455, 12.787990954, 13.865552736, 14.929550474, 16, 16, 16, 16], degree=3))
            add(Edge.make_bspline(
                [(0.861264682, 6.049389164), (0.827711756, 6.048889766), (0.761147116, 6.047899025), (0.66333895, 6.032889544), (0.568547371, 6.011175582), (0.476377366, 5.982577669), (0.388378653, 5.942599328), (0.304213755, 5.893589233), (0.222187198, 5.837488471), (0.117145087, 5.750935608), (-0.002378264, 5.623205662), (-0.117953532, 5.441687154), (-0.212666344, 5.236433762), (-0.252706867, 5.087217582), (-0.273390766, 5.010136359)],
                knots=[0, 0, 0, 0, 0.723302347, 1.434937762, 2.129609326, 2.821140842, 3.513216847, 4.209993937, 4.920569932, 5.655069131, 7.14393391, 8.6716197, 10.280644748, 12, 12, 12, 12], degree=3))
            add(Edge.make_bspline(
                [(-0.273390766, 5.010136359), (-0.279659276, 4.979240714), (-0.293250697, 4.912252582), (-0.307597531, 4.803018829), (-0.320379282, 4.678312324), (-0.329833811, 4.537845104), (-0.33960654, 4.381439449), (-0.343407144, 4.208761325), (-0.347941516, 4.020515912), (-0.348270145, 3.889901179), (-0.348440847, 3.82205543)],
                knots=[0, 0, 0, 0, 0.634451884, 1.375622551, 2.216452059, 3.157844607, 4.20941857, 5.370758133, 6.634282058, 8, 8, 8, 8], degree=3))
            Line((-0.348440847, 3.82205543), (-0.348440847, 3.444260959))
        make_face(mode=Mode.SUBTRACT)
    # profile 5 of 6: a face of its own
    with BuildSketch(Plane(origin=(0, 30, 0), x_dir=(1, 0, 0), z_dir=(0, 1, 0))):
        Polygon((-3.686261359, 10.526953266), (2.663738641, 13.457722497), (2.663738641, 12.838241327), (0.62848223, 11.899479308), (0.62848223, 9.020863523), (2.663738641, 8.055388763), (2.663738641, 7.433363523), (-3.686261359, 10.44554301), align=None)
        Polygon((-2.448571055, 10.479887962), (-0.022799821, 9.32996809), (-0.022799821, 11.599278987), align=None, mode=Mode.SUBTRACT)
    # profile 6 of 6: a face of its own
    with BuildSketch(Plane(origin=(0, 30, 0), x_dir=(1, 0, 0), z_dir=(0, 1, 0))):
        Polygon((-3.686261359, 16.429196856), (-3.686261359, 17.086839084), (-1.088765366, 18.749389164), (-3.686261359, 20.411939244), (-3.686261359, 21.069581471), (-0.574863122, 19.078846295), (2.663738641, 21.150991728), (2.663738641, 20.4933495), (-0.060960879, 18.749389164), (2.663738641, 17.005428827), (2.663738641, 16.3477866), (-0.574863122, 18.421204067), align=None)
    extrude(amount=-CUT_EXTRUDE1_DEPTH, mode=Mode.SUBTRACT)


solid = part.part
